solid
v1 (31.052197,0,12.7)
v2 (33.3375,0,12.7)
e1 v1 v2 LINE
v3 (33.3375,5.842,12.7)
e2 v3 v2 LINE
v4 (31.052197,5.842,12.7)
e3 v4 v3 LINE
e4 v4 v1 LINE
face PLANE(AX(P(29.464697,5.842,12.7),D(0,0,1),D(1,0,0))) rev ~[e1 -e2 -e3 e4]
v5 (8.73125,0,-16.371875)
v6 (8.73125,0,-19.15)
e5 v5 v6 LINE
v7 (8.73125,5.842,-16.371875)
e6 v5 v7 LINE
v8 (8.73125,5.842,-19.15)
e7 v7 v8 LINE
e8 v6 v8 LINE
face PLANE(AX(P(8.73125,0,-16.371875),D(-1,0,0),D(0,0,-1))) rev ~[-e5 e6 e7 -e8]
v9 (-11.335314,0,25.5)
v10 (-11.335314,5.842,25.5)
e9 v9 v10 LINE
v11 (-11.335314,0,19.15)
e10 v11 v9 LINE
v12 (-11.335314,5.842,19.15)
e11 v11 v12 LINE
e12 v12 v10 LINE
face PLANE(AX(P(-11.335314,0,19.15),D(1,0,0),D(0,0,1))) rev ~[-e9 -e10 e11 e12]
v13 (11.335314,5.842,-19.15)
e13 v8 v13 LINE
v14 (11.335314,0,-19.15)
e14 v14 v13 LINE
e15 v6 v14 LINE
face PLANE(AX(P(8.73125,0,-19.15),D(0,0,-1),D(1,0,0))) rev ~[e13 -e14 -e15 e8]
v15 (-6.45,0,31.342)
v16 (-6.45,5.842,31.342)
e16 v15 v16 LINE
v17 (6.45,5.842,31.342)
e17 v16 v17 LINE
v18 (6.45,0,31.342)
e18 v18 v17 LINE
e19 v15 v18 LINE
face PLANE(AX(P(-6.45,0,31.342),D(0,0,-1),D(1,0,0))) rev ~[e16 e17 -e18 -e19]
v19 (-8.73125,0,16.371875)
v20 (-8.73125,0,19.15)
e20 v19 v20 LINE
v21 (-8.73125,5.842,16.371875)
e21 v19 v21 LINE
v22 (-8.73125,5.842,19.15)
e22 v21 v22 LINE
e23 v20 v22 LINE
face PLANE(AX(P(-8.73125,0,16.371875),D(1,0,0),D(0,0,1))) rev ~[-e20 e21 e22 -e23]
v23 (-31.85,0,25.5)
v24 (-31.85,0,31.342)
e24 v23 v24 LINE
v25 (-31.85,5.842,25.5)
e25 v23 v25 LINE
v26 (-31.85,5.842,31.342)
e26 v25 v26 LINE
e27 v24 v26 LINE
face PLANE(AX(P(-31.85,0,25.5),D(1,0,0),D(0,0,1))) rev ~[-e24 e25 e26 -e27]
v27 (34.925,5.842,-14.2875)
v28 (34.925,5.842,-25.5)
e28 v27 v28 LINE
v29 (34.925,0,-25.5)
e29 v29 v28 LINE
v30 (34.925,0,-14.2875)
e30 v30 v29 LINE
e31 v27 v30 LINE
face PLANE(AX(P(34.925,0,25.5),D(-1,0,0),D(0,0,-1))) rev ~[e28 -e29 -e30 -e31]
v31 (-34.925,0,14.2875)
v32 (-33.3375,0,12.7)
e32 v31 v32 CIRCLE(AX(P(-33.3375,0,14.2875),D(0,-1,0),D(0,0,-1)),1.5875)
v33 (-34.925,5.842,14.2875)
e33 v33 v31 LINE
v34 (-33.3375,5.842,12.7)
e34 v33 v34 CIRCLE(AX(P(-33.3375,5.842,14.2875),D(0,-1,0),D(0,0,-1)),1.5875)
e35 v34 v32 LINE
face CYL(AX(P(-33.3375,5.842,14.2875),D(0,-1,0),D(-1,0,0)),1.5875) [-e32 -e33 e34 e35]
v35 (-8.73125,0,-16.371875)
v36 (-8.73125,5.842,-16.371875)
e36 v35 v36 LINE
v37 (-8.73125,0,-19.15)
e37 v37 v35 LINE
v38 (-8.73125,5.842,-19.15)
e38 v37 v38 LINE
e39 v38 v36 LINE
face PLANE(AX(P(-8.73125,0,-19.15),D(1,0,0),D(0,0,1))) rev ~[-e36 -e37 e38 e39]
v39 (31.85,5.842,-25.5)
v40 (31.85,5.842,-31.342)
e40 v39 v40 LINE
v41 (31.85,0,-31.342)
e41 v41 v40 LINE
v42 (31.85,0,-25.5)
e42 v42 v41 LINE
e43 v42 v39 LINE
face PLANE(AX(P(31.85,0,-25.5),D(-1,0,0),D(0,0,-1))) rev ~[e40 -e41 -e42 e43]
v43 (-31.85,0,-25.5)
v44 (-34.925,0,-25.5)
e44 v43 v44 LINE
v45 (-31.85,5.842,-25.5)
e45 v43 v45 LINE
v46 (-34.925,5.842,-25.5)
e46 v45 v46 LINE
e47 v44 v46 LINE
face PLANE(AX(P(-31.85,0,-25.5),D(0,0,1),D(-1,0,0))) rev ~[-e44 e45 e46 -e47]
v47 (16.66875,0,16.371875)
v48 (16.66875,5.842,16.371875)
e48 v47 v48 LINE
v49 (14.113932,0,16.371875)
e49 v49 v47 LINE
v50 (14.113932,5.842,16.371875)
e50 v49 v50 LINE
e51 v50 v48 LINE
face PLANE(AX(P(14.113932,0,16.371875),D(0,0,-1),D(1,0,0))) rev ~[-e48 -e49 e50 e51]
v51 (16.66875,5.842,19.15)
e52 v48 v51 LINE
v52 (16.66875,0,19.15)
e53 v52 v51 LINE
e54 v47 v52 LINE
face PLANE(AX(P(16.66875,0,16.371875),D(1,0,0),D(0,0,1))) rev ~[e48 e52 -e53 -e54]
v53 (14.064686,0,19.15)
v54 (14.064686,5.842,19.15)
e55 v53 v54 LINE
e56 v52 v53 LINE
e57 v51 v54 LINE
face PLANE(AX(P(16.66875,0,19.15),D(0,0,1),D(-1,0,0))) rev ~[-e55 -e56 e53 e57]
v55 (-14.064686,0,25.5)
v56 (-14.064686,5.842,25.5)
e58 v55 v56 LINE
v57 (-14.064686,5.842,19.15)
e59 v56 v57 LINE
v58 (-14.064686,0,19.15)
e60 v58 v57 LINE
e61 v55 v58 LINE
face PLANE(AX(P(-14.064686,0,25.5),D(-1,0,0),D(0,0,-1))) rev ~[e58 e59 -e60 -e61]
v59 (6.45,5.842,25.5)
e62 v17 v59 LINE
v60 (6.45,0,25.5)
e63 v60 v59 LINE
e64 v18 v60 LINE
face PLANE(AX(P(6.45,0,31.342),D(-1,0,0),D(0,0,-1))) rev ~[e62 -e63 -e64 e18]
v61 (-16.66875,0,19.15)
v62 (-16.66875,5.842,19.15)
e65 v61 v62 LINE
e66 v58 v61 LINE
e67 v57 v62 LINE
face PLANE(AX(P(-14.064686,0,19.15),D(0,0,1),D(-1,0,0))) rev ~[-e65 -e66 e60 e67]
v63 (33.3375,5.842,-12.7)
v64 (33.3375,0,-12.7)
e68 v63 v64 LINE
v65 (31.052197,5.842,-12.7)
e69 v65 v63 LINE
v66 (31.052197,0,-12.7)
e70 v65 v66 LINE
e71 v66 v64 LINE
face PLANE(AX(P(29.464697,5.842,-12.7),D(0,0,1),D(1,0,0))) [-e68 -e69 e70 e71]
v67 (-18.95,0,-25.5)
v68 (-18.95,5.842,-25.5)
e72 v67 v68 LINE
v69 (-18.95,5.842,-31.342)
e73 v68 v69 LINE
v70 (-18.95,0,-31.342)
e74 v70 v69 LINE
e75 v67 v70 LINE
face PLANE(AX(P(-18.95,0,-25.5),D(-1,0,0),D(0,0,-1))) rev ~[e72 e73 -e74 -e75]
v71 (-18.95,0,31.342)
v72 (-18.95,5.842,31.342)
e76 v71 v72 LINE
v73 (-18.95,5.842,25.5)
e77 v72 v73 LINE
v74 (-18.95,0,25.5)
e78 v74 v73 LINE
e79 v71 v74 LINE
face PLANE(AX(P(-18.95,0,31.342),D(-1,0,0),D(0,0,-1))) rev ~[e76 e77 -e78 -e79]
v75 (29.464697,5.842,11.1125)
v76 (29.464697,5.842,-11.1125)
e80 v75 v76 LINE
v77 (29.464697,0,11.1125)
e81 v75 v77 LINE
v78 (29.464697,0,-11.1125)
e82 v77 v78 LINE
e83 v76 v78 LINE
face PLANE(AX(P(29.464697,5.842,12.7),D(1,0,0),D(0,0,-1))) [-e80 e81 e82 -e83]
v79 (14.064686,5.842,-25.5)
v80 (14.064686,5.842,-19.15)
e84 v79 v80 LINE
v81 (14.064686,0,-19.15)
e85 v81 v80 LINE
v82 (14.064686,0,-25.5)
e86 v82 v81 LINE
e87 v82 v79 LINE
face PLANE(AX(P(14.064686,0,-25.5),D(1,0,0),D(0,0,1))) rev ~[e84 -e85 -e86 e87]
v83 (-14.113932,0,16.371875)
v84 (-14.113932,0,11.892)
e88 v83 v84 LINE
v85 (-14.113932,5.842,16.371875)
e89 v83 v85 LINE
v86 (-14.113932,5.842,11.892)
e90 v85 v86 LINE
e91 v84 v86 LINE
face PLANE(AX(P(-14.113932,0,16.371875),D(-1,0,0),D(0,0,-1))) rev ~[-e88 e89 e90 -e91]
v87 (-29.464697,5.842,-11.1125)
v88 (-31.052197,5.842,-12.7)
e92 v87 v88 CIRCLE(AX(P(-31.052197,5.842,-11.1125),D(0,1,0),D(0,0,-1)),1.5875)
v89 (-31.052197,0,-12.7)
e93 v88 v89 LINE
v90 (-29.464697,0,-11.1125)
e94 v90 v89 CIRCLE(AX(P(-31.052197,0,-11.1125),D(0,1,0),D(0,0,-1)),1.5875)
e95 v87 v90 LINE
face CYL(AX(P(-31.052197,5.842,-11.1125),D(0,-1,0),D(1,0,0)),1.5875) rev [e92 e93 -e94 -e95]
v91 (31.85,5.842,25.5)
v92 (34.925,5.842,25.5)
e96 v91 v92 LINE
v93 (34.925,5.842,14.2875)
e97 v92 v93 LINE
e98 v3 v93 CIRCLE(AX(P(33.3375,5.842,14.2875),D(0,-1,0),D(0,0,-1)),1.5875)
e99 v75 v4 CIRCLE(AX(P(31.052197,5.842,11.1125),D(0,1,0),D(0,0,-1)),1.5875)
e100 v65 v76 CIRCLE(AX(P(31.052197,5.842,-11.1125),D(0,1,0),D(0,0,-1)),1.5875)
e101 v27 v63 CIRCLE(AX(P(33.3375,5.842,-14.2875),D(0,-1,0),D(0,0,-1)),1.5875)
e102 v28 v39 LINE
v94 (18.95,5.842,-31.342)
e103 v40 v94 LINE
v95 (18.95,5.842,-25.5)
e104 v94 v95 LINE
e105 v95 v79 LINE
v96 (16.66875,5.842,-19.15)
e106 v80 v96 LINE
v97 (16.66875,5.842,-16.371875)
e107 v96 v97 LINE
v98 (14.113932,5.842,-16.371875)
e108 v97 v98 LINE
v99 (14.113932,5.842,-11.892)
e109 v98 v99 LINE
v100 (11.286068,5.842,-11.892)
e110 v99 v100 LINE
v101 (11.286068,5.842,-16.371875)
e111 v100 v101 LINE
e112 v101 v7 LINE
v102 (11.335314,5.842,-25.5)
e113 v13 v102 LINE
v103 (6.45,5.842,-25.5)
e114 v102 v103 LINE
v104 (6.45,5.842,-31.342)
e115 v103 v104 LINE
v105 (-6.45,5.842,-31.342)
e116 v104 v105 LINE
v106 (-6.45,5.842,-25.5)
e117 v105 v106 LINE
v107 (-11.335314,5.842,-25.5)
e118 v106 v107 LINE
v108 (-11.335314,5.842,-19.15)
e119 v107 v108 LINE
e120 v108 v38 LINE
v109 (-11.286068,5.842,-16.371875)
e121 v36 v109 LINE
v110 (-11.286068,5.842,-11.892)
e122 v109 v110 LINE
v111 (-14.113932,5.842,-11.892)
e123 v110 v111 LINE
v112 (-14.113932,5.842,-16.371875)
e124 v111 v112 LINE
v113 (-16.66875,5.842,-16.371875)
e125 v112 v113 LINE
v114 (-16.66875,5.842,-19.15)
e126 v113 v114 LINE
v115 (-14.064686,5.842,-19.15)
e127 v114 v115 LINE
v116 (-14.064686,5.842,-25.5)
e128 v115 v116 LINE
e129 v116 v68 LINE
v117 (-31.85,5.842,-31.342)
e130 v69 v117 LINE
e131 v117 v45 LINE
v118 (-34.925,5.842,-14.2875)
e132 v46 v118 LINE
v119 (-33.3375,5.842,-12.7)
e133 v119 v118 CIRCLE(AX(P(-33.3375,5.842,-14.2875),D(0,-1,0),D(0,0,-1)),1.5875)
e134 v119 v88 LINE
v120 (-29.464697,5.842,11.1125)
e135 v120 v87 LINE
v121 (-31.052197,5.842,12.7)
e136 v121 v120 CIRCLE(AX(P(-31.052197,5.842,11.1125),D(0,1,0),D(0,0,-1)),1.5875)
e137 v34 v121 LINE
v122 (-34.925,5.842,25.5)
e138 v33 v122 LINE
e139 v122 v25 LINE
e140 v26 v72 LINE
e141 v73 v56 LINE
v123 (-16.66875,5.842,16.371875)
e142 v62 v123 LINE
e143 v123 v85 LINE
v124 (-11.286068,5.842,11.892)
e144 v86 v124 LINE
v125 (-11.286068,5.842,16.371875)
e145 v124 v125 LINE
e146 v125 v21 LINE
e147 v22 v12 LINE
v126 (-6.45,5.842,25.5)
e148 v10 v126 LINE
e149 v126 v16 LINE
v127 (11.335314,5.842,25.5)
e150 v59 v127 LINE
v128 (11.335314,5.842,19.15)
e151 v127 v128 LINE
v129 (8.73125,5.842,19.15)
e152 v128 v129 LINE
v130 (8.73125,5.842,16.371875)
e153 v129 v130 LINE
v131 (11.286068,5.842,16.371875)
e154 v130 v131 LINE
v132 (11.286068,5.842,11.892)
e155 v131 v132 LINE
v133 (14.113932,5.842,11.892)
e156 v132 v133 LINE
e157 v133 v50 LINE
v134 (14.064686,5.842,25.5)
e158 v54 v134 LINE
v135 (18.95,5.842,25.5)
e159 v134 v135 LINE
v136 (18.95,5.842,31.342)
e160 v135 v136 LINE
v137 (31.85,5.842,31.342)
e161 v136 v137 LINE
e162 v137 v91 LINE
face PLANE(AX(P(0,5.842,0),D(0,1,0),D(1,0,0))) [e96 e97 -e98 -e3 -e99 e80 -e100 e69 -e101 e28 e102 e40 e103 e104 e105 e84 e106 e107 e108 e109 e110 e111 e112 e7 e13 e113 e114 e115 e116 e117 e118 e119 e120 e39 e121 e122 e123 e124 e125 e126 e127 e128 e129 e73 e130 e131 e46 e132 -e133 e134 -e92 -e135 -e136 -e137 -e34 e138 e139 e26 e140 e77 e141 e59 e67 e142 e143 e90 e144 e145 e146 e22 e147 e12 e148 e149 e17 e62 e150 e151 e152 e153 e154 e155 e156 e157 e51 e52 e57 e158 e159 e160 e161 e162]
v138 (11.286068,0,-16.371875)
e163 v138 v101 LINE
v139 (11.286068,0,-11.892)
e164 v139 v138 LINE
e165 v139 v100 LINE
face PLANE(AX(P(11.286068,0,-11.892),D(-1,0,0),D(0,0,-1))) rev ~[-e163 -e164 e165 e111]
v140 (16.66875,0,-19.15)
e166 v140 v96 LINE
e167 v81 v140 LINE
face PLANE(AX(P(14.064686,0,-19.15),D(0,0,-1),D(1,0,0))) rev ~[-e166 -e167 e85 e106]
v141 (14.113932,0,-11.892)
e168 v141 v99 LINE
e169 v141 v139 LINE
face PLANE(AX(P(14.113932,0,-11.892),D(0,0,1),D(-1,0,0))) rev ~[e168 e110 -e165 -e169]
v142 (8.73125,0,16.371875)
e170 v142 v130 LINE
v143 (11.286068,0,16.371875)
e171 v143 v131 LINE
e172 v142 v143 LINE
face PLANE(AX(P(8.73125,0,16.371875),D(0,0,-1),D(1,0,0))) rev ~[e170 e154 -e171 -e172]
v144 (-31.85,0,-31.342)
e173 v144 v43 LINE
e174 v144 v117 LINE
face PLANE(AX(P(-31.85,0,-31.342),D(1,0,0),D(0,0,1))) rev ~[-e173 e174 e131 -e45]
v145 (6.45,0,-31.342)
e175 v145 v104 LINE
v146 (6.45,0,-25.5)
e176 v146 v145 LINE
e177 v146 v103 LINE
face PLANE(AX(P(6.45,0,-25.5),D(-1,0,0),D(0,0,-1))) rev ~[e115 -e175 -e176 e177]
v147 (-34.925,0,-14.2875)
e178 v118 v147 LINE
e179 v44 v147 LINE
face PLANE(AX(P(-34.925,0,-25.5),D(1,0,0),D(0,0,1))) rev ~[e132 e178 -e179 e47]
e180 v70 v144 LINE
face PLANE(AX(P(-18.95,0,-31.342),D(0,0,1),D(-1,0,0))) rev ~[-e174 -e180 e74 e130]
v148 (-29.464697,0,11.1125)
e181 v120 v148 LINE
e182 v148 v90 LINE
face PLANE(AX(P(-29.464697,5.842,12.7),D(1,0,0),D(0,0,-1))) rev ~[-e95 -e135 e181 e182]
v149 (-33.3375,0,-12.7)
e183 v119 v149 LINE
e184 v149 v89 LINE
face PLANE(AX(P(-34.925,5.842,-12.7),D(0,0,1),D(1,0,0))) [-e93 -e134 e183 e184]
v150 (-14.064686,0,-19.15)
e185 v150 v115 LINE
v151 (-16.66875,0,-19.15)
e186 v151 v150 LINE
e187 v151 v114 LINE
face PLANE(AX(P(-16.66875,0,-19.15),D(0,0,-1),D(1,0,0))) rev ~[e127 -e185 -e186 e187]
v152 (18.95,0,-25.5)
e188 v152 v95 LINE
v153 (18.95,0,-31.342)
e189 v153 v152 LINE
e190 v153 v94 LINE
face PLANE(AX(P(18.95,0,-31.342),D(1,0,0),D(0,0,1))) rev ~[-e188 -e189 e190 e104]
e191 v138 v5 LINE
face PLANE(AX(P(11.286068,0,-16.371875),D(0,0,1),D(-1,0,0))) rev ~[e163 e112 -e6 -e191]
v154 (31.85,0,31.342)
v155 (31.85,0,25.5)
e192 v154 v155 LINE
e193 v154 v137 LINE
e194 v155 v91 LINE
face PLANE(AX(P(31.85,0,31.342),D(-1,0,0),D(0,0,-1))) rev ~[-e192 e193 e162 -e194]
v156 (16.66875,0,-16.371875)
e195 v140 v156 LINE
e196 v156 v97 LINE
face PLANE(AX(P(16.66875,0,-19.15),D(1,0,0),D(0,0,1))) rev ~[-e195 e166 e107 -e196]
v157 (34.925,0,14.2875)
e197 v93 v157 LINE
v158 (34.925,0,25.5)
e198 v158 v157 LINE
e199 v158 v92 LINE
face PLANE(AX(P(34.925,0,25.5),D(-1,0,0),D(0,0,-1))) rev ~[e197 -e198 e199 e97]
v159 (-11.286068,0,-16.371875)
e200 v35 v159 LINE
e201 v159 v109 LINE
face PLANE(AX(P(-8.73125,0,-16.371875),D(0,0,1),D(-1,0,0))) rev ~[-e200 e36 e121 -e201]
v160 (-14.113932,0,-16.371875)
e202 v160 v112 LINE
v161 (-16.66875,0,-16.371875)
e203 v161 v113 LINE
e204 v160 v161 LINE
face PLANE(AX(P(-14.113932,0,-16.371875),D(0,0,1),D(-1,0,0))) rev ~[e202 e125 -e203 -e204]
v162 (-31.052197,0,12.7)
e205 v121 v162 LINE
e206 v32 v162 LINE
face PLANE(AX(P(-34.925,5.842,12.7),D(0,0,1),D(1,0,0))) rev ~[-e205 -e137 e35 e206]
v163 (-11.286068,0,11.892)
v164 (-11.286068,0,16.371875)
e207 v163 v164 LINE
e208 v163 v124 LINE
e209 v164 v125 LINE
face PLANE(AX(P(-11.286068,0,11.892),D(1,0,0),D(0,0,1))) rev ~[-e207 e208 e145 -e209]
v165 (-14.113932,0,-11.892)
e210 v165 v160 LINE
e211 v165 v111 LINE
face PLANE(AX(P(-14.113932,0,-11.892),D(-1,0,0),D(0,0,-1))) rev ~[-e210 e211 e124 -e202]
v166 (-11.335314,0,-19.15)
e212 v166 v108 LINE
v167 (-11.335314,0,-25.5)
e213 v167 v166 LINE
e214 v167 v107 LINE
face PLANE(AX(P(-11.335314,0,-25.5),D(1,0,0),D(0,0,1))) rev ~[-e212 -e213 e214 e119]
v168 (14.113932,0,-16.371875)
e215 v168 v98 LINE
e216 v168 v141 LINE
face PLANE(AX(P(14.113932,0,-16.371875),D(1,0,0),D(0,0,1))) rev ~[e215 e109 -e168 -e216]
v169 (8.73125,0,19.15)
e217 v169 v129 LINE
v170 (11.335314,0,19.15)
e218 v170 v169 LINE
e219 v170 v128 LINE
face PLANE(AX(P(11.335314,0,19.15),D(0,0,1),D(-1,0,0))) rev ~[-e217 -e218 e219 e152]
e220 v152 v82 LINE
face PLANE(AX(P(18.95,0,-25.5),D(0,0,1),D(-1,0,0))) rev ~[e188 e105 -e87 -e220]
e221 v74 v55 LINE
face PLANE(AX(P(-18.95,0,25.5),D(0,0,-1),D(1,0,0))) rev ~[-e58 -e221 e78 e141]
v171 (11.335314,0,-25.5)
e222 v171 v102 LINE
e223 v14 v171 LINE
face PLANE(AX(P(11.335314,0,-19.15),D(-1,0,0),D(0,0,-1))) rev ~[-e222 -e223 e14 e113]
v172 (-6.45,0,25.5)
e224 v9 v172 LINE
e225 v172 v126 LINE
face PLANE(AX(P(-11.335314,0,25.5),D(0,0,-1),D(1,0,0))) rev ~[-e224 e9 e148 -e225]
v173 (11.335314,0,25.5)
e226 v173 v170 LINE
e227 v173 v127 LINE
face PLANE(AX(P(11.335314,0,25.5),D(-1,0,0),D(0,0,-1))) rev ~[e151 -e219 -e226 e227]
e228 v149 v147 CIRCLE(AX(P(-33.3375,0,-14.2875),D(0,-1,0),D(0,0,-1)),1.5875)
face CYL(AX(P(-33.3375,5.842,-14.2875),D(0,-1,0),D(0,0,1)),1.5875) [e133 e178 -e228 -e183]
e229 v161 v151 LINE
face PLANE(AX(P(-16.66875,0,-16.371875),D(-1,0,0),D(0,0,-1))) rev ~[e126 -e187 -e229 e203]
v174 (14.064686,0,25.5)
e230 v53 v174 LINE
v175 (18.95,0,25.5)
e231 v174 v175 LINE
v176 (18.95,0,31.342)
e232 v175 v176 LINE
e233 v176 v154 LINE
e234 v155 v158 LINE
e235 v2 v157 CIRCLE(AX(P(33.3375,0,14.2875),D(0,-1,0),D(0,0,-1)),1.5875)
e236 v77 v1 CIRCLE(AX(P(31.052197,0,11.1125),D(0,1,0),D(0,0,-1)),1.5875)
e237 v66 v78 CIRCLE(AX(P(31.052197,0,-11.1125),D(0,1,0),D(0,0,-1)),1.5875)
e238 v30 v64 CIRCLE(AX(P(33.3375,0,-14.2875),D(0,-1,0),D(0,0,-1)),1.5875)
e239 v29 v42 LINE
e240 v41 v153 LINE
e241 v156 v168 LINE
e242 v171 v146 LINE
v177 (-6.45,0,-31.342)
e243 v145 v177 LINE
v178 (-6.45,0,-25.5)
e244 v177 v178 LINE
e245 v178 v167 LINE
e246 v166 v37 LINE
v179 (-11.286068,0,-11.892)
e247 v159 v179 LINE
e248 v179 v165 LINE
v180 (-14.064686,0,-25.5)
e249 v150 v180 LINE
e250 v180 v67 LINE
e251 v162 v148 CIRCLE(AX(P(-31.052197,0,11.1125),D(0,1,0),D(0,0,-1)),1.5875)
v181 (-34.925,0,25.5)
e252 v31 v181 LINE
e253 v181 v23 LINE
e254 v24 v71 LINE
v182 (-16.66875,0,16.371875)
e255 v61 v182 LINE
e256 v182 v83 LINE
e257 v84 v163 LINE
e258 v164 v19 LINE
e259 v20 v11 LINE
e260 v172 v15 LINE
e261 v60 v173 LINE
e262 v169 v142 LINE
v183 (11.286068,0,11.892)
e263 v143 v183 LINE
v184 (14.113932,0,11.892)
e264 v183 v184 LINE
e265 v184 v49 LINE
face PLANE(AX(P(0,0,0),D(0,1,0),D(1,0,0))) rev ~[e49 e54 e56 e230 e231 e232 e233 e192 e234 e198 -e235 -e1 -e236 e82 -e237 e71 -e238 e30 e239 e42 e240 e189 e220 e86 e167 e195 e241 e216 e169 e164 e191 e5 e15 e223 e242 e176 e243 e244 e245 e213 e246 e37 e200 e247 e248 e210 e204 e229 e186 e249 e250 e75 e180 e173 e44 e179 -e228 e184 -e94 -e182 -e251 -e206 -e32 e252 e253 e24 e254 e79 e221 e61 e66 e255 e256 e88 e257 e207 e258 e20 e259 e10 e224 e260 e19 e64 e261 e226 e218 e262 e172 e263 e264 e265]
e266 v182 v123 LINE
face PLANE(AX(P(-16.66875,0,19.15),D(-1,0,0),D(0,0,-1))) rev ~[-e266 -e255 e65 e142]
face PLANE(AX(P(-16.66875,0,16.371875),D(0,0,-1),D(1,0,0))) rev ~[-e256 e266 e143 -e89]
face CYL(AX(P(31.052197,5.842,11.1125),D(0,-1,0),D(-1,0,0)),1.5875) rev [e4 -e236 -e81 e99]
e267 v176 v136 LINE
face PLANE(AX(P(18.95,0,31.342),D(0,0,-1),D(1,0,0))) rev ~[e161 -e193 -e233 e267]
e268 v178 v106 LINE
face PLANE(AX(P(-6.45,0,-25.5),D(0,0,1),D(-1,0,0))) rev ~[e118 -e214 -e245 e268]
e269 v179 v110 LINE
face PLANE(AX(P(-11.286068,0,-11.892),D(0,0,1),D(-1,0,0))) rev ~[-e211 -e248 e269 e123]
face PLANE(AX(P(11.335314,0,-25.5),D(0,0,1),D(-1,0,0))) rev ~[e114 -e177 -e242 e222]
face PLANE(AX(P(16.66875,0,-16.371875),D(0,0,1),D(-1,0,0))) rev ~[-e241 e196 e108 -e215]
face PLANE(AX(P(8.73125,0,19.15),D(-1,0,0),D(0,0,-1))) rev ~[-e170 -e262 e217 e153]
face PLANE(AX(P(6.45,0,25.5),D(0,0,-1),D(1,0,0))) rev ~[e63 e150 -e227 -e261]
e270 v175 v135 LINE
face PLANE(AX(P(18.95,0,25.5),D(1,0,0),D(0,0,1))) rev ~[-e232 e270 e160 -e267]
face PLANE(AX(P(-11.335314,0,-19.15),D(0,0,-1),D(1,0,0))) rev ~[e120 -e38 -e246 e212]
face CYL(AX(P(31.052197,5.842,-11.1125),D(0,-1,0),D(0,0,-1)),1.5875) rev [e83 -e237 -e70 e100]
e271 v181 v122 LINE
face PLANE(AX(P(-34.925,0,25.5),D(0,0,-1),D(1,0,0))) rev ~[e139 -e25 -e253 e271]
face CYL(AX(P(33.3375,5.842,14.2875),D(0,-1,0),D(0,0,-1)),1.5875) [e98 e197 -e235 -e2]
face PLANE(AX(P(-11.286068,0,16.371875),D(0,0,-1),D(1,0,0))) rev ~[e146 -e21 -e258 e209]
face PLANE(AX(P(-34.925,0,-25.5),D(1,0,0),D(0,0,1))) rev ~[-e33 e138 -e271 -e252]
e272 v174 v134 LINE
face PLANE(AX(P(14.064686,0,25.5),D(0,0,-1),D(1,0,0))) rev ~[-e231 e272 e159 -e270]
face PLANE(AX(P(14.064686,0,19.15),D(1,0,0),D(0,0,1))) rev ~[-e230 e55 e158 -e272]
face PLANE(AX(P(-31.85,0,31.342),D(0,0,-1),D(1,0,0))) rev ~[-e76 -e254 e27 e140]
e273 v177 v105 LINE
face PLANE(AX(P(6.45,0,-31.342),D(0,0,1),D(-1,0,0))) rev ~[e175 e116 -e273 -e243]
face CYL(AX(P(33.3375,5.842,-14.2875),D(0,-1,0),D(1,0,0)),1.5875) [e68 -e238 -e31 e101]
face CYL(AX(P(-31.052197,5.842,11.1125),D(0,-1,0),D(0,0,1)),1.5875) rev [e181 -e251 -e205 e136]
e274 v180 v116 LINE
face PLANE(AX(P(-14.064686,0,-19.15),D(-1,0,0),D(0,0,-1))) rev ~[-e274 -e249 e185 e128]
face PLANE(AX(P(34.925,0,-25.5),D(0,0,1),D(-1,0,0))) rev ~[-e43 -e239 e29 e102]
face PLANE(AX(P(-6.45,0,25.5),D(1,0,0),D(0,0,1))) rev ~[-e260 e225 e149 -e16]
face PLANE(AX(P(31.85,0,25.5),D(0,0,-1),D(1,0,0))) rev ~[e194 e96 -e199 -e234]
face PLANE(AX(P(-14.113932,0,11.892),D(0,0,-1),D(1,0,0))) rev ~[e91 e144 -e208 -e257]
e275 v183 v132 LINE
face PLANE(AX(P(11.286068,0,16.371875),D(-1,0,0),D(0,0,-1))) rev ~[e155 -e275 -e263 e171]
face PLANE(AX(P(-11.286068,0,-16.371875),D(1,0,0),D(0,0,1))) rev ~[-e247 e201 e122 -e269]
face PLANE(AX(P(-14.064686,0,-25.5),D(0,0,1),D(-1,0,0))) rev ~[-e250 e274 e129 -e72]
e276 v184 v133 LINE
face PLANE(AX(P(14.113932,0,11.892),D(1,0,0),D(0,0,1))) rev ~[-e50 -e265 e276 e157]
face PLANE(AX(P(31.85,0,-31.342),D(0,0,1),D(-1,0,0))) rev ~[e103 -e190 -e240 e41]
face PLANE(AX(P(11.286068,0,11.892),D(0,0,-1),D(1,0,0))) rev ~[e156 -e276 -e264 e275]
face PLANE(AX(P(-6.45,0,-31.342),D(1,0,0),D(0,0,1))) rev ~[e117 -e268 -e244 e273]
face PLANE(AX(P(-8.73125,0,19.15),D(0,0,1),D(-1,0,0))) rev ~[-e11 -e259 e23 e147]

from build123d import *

# Parameters (mm, degrees)
BOSS_EXTRUDE1_DEPTH = 5.842
SKETCH2_W           = 5.460302537
SKETCH2_H           = 25.4
CUT_EXTRUDE1_DEPTH  = 48.288535112
FILLET2_R           = 1.5875


with BuildPart() as part:
    # Sketch1 → Boss-Extrude1 (new body)
    with BuildSketch(Plane(origin=(0, 0, 0), x_dir=(1, 0, 0), z_dir=(0, 1, 0))):
        Polygon((-6.45, 31.342), (-6.45, 25.5), (-11.335313542, 25.5), (-11.335313542, 19.15), (-8.73125, 19.15), (-8.73125, 16.371875), (-11.286067573, 16.371875), (-11.286067573, 11.892), (-14.113932427, 11.892), (-14.113932427, 16.371875), (-16.66875, 16.371875), (-16.66875, 19.15), (-14.064686458, 19.15), (-14.064686458, 25.5), (-18.95, 25.5), (-18.95, 31.342), (-31.85, 31.342), (-31.85, 25.5), (-34.925, 25.5), (-34.925, -25.5), (-31.85, -25.5), (-31.85, -31.342), (-18.95, -31.342), (-18.95, -25.5), (-14.064686458, -25.5), (-14.064686458, -19.15), (-16.66875, -19.15), (-16.66875, -16.371875), (-14.113932427, -16.371875), (-14.113932427, -11.892), (-11.286067573, -11.892), (-11.286067573, -16.371875), (-8.73125, -16.371875), (-8.73125, -19.15), (-11.335313542, -19.15), (-11.335313542, -25.5), (-6.45, -25.5), (-6.45, -31.342), (6.45, -31.342), (6.45, -25.5), (11.335313542, -25.5), (11.335313542, -19.15), (8.73125, -19.15), (8.73125, -16.371875), (11.286067573, -16.371875), (11.286067573, -11.892), (14.113932427, -11.892), (14.113932427, -16.371875), (16.66875, -16.371875), (16.66875, -19.15), (14.064686458, -19.15), (14.064686458, -25.5), (18.95, -25.5), (18.95, -31.342), (31.85, -31.342), (31.85, -25.5), (34.925, -25.5), (34.925, 25.5), (31.85, 25.5), (31.85, 31.342), (18.95, 31.342), (18.95, 25.5), (14.064686458, 25.5), (14.064686458, 19.15), (16.66875, 19.15), (16.66875, 16.371875), (14.113932427, 16.371875), (14.113932427, 11.892), (11.286067573, 11.892), (11.286067573, 16.371875), (8.73125, 16.371875), (8.73125, 19.15), (11.335313542, 19.15), (11.335313542, 25.5), (6.45, 25.5), (6.45, 31.342), align=None)
    extrude(amount=BOSS_EXTRUDE1_DEPTH)

    # Sketch2 → Cut-Extrude1 (cut, through all)
    with BuildSketch(Plane(origin=(0, 5.842, 0), x_dir=(1, 0, 0), z_dir=(0, 1, 0))):
        with Locations((-32.194848732, 0)):
            Rectangle(SKETCH2_W, SKETCH2_H)
        with Locations((32.194848732, 0)):
            Rectangle(SKETCH2_W, SKETCH2_H)
    extrude(amount=-CUT_EXTRUDE1_DEPTH, mode=Mode.SUBTRACT)

    # Fillet2
    fillet2_edges = [part.edges().sort_by_distance(p)[0] for p in [
        (-34.925, 2.921, -12.7),
        (-29.464697463, 2.921, -12.7),
        (-29.464697463, 2.921, 12.7),
        (-34.925, 2.921, 12.7),
        (29.464697463, 2.921, -12.7),
        (34.925, 2.921, -12.7),
        (34.925, 2.921, 12.7),
        (29.464697463, 2.921, 12.7),
    ]]
    fillet(fillet2_edges, radius=FILLET2_R)


solid = part.part
